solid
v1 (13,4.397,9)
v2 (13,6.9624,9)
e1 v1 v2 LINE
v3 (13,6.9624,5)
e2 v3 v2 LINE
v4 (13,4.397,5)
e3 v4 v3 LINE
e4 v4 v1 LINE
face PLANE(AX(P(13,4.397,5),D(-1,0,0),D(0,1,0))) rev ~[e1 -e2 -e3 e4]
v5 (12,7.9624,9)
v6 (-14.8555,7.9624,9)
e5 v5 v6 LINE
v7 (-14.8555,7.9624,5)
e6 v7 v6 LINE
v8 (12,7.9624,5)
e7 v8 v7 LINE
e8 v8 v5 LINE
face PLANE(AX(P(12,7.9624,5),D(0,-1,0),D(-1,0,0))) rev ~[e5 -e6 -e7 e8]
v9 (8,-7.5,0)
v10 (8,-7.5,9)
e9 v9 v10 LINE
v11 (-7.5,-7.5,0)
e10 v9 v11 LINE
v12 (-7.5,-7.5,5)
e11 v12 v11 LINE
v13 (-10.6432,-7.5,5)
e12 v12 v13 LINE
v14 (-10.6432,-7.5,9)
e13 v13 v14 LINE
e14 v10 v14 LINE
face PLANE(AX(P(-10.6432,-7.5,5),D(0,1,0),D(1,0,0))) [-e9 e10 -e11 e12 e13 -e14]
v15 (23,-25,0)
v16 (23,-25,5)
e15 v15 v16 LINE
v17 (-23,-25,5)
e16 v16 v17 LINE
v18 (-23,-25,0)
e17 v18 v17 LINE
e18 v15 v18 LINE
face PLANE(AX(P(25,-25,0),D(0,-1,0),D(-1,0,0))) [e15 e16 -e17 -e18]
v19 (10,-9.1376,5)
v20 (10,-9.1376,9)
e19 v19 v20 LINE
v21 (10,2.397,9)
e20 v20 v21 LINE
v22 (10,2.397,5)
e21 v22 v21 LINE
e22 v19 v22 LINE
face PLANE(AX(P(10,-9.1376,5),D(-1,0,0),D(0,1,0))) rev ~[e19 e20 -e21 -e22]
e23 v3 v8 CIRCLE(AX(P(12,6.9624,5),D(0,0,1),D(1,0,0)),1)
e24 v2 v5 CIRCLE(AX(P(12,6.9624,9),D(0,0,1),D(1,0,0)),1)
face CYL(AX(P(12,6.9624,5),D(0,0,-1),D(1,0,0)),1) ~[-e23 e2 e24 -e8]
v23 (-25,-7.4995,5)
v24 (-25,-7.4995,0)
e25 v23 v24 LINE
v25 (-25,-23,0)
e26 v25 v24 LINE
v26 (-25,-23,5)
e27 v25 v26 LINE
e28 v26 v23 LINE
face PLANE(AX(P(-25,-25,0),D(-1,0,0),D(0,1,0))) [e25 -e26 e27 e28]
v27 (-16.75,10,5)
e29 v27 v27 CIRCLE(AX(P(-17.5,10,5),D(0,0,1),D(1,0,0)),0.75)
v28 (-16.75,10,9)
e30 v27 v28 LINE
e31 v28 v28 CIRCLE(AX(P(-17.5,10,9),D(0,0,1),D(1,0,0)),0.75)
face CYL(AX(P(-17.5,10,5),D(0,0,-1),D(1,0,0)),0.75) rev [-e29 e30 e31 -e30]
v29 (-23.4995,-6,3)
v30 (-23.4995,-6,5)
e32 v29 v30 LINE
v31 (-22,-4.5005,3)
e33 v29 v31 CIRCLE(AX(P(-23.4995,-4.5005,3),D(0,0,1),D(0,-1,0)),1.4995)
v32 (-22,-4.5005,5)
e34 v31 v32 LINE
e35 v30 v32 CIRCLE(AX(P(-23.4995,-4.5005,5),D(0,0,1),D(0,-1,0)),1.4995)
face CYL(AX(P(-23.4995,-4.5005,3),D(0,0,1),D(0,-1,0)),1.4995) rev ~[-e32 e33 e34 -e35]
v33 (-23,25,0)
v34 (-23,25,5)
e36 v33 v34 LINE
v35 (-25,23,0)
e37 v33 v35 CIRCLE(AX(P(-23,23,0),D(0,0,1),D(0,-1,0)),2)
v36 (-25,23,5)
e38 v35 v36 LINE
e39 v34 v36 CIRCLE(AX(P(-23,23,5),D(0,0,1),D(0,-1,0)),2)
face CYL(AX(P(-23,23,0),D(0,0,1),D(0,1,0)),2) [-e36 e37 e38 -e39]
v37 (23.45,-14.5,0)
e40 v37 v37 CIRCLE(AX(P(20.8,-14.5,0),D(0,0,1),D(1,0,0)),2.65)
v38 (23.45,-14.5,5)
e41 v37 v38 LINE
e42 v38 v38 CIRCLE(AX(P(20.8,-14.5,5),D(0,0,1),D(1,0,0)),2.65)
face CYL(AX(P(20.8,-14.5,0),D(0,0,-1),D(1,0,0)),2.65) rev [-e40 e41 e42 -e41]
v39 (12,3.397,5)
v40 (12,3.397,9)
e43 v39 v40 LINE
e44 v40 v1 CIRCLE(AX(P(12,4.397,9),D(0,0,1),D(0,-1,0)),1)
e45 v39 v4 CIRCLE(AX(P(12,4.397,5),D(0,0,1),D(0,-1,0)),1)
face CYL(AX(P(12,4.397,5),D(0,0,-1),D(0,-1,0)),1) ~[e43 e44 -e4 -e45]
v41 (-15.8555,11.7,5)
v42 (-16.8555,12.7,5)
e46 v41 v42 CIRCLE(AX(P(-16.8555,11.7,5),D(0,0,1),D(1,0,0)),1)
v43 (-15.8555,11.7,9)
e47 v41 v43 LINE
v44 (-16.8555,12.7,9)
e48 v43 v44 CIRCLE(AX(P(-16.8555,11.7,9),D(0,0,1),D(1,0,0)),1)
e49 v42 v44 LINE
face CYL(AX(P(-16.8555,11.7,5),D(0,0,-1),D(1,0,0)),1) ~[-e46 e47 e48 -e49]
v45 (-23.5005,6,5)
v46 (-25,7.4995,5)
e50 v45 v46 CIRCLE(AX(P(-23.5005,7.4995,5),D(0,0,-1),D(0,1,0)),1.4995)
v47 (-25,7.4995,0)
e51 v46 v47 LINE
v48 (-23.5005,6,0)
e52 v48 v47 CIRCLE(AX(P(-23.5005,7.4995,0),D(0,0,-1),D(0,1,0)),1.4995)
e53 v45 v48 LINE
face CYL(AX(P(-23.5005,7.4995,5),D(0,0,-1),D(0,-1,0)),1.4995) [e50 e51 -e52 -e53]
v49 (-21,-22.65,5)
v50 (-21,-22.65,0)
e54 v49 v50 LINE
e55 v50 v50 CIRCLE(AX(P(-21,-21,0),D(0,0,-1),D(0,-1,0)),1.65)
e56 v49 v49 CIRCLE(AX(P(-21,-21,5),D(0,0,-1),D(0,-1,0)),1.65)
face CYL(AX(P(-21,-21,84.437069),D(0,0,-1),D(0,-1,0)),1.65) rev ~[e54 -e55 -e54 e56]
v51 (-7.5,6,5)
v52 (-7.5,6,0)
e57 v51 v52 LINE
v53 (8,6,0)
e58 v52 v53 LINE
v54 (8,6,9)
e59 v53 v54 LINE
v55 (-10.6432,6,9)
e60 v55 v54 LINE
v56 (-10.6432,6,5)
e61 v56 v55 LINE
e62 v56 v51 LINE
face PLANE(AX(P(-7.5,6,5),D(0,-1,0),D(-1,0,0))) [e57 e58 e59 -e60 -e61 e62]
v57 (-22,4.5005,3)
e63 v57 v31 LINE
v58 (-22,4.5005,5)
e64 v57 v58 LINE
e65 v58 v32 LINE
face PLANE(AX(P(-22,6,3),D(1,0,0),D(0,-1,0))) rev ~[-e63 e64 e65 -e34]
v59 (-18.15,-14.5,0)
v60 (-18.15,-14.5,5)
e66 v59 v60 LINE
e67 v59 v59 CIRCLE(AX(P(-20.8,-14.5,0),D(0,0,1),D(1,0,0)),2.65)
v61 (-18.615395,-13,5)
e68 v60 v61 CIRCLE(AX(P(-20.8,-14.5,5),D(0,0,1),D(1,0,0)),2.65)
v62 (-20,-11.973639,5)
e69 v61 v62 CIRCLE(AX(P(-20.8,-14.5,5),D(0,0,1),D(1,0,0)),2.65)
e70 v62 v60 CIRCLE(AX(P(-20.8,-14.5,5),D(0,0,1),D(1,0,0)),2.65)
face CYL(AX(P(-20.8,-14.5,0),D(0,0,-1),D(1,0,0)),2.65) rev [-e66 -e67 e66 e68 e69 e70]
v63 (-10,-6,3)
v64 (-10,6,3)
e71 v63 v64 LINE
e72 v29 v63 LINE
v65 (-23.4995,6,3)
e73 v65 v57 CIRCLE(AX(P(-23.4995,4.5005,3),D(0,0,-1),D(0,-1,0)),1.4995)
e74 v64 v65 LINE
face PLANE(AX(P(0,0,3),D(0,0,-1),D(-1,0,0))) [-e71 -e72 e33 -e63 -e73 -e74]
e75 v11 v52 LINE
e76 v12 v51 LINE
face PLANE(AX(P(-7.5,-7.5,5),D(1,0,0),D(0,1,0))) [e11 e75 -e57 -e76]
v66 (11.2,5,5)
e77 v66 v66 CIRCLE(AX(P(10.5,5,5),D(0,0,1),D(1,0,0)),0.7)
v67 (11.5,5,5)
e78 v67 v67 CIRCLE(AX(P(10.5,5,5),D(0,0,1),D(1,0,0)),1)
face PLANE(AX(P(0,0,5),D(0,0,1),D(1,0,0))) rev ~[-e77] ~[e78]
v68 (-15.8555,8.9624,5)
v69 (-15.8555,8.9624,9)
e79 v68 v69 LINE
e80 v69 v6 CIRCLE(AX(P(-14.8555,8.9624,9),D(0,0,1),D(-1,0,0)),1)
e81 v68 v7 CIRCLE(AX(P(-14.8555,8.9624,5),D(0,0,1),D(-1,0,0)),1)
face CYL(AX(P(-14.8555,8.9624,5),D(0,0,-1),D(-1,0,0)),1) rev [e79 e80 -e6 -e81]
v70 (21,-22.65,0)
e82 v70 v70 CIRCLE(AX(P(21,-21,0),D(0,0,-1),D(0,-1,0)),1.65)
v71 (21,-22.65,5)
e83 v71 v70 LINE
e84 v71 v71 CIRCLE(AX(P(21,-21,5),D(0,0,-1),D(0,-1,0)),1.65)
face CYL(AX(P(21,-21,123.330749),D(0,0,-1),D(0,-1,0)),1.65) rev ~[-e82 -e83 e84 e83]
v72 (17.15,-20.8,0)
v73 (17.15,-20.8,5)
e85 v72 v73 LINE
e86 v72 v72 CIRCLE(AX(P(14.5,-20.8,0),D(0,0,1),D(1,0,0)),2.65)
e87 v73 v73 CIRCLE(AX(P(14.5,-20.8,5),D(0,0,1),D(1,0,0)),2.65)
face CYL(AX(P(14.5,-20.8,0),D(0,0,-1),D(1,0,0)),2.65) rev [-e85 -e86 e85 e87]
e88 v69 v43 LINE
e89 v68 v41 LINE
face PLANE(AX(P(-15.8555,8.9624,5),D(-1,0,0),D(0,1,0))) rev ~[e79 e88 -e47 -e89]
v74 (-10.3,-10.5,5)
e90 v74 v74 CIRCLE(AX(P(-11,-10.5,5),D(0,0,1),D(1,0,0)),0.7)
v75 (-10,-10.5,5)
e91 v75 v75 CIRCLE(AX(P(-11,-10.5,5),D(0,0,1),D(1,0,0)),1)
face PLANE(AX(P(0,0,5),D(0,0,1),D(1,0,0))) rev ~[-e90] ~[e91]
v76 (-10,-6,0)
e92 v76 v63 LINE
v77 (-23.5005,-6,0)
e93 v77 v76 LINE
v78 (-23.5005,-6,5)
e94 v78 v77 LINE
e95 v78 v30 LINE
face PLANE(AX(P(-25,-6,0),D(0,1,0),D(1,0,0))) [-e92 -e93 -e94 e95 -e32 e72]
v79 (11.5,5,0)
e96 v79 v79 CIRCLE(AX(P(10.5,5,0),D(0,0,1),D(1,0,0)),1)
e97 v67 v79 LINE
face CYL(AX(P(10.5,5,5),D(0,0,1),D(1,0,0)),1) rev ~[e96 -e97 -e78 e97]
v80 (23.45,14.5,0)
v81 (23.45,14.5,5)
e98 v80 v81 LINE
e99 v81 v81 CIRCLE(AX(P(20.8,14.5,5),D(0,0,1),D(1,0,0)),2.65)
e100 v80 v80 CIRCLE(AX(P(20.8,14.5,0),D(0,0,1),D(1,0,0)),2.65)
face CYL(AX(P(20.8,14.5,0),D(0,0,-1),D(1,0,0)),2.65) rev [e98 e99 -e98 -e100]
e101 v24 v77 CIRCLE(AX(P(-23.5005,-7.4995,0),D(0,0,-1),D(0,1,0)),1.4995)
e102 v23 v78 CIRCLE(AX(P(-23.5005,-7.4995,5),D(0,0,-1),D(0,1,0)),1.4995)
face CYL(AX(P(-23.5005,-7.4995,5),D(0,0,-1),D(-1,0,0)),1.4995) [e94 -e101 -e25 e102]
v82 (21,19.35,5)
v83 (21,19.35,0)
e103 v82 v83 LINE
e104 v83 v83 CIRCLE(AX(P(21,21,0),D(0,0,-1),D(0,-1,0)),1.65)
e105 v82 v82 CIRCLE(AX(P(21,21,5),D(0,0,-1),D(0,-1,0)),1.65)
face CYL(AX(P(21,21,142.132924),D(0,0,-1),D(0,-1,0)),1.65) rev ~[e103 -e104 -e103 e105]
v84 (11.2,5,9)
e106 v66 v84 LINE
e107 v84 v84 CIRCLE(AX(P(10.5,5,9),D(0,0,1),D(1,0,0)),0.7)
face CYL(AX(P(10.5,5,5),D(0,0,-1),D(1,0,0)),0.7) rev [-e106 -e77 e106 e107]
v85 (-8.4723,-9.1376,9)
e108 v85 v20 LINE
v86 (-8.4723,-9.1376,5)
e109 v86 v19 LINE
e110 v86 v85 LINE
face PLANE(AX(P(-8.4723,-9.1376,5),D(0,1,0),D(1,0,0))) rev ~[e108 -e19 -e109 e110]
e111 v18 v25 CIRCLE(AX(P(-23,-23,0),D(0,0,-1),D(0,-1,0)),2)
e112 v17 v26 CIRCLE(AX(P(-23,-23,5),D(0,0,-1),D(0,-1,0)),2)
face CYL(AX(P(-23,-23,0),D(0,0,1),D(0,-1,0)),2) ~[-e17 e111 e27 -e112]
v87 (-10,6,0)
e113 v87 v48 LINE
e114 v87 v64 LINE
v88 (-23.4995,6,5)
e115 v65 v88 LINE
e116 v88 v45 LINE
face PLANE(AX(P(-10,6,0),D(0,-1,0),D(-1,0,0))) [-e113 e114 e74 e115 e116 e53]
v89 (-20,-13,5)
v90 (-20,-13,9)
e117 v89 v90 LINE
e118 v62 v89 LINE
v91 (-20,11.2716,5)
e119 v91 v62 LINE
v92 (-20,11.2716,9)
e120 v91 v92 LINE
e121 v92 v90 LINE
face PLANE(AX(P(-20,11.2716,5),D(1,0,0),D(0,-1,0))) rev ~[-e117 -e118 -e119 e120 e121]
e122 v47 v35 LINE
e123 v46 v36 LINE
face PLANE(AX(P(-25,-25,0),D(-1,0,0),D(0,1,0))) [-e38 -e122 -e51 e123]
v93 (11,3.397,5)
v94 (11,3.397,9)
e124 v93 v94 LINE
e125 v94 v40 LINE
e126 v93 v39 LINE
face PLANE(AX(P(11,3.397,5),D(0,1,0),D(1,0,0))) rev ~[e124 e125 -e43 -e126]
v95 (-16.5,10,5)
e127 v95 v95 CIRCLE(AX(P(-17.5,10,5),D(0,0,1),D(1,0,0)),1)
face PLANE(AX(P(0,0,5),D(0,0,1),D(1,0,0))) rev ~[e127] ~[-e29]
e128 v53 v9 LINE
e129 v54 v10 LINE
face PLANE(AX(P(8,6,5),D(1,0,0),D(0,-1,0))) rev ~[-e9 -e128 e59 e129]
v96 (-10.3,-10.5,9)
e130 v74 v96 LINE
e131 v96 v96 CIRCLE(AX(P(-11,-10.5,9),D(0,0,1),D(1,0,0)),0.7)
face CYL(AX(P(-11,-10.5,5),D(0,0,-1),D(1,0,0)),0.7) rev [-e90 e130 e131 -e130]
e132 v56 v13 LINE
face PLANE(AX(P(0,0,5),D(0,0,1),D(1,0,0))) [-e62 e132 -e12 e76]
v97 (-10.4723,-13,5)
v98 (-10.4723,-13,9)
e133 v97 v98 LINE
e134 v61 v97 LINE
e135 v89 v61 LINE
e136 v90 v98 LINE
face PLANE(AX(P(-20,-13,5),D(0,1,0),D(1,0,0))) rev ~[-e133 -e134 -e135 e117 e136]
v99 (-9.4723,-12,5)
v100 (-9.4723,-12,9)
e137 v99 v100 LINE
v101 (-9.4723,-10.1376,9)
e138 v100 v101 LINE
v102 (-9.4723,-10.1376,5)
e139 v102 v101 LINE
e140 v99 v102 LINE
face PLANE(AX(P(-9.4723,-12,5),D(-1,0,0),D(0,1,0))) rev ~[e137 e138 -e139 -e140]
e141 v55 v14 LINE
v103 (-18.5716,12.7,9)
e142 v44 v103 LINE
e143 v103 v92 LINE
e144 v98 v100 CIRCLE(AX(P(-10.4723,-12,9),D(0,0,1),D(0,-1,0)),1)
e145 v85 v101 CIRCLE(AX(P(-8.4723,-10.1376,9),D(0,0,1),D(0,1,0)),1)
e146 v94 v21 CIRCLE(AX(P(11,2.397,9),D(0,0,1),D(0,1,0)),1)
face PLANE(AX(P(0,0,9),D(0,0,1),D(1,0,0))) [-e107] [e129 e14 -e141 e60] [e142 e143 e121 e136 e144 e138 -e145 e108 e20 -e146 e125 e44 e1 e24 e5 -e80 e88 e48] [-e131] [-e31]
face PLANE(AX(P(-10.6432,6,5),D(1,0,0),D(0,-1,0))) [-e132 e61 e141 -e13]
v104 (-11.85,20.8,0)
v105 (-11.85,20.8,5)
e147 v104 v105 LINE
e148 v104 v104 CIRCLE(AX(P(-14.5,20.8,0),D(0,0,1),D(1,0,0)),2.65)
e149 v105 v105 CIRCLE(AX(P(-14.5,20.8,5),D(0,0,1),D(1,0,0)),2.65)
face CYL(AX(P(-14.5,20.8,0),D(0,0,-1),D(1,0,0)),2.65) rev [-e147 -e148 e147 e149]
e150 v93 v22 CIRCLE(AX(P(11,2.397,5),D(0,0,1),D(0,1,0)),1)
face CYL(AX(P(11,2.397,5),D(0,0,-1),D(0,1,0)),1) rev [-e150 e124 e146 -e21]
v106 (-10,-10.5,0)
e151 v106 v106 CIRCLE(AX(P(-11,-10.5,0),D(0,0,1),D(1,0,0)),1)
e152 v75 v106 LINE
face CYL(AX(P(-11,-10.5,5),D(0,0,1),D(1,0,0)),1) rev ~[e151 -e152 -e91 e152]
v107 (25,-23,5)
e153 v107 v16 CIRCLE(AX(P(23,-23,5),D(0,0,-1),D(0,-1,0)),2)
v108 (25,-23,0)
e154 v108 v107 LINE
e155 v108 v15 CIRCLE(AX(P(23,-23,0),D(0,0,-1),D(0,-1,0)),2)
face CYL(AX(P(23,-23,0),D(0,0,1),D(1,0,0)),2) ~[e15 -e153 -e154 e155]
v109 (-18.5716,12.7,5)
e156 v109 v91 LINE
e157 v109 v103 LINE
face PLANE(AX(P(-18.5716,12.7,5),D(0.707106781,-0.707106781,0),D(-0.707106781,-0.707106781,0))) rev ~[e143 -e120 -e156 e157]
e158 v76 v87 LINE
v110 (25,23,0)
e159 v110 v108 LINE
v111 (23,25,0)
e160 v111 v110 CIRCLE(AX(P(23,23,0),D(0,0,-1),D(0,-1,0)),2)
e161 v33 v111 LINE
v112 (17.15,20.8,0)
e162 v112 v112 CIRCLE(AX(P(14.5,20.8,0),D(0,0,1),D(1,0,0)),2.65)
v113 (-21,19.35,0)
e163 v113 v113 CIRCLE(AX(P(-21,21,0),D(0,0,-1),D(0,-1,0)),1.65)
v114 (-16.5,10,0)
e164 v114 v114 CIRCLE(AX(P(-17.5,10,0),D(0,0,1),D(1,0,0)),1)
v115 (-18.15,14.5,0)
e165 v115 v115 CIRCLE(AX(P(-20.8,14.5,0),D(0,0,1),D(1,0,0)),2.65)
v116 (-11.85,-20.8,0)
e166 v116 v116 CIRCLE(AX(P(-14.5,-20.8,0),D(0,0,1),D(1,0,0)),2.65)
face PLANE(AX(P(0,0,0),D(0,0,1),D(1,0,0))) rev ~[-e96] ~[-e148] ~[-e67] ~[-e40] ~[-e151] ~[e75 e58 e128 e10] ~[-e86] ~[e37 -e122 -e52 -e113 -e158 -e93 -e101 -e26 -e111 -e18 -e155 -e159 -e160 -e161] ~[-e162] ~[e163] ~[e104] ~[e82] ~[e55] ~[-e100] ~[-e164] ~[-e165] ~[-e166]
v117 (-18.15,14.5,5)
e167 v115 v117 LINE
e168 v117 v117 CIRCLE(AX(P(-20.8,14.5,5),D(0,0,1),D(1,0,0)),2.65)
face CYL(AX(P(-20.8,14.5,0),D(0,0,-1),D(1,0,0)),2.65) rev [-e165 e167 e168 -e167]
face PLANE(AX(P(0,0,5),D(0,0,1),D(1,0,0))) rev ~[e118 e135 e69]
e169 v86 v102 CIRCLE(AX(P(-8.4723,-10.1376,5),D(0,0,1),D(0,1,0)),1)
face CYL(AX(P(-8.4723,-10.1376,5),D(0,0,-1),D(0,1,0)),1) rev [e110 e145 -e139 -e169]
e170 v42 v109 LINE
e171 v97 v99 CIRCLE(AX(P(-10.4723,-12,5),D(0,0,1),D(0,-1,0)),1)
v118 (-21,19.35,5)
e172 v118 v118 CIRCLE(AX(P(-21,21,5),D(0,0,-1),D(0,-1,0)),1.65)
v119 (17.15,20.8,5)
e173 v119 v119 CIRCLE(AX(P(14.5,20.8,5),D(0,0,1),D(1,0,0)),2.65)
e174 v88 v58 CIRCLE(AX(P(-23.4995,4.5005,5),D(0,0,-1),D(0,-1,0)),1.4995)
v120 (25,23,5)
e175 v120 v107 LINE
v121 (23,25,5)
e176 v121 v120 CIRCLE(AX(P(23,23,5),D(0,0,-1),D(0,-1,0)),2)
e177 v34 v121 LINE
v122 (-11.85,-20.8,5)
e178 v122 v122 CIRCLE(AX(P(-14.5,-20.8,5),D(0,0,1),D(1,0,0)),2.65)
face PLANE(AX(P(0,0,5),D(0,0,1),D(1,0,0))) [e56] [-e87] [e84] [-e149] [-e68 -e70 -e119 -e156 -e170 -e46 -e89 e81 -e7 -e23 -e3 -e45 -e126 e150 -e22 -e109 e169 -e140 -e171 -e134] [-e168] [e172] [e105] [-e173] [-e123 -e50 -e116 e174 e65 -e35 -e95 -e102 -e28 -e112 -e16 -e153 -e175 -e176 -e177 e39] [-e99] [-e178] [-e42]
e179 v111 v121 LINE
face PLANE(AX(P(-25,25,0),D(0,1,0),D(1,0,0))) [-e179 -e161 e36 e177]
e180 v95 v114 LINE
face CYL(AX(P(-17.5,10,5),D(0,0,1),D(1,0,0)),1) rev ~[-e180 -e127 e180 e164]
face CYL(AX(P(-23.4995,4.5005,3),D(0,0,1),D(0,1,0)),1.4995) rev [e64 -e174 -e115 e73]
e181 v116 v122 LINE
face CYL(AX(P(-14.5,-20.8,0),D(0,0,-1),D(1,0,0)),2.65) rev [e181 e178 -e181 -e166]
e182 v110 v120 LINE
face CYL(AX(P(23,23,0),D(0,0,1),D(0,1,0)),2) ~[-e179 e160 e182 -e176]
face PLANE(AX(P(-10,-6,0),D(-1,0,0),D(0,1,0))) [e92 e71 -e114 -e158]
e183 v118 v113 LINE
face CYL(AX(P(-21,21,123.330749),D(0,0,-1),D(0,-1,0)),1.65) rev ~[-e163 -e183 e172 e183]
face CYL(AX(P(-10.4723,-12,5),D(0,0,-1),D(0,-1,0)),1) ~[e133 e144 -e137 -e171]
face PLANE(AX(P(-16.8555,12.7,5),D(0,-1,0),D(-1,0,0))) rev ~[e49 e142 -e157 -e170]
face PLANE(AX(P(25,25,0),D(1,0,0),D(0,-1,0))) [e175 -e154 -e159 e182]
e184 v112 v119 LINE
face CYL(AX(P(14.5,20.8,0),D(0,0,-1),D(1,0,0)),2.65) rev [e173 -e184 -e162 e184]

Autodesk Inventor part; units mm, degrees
ref_plane "YZ Plane" through (0, 0, 0) normal (1, 0, 0) x (0, 1, 0)
ref_plane "XZ Plane" through (0, 0, 0) normal (0, 1, 0) x (-1, 0, 0)
sketch "Sketch1" plane through (0, 0, 0) normal (0, 0, 1) x (1, 0, 0)
  line L0 (-25, 25) -> (25, 25)
  line L1 (25, 25) -> (25, -25)
  line L2 (25, -25) -> (-25, -25)
  line L3 (-25, -25) -> (-25, 25)
  line L4 (-25, 25) -> (25, -25) construction
  line L5 (25, 25) -> (-25, -25) construction
  circle A0 centre (0, 0) radius 2.5
  circle A1 centre (-20.8, -14.5) radius 2.65
  circle A2 centre (-14.5, -20.8) radius 2.65
  circle A3 centre (-20.8, 14.5) radius 2.65
  circle A4 centre (20.8, -14.5) radius 2.65
  circle A5 centre (20.8, 14.5) radius 2.65
  circle A6 centre (-14.5, 20.8) radius 2.65
  circle A7 centre (14.5, -20.8) radius 2.65
  circle A8 centre (14.5, 20.8) radius 2.65
  dimension "d0" = 50
  dimension "d1" = 50
  dimension "d2" = 5
  dimension "d5" = 5.3
  dimension "d6" = 4.2
  dimension "d8" = 10.5
  dimension "d11" = 29
  dimension "d14" = 41.6
extrude "Extrusion1" add sketch "Sketch1" along normal blind 5
fillet "Fillet1" radius 2 4 edges at (-25, 25, 2.5) (25, 25, 2.5) (-25, -25, 2.5) (25, -25, 2.5)
sketch "Sketch2" plane through (0, 0, 5) normal (0, 0, 1) x (1, 0, 0)
  arc A0 (23, -25) -> (25, -23) centre (23, -23) ccw projected
  line L0 (25, -23) -> (25, 23) projected
  arc A1 (25, 23) -> (23, 25) centre (23, 23) ccw projected
  line L1 (23, 25) -> (-23, 25) projected
  arc A2 (-23, 25) -> (-25, 23) centre (-23, 23) ccw projected
  line L2 (-25, 23) -> (-25, -23) projected
  arc A3 (-25, -23) -> (-23, -25) centre (-23, -23) ccw projected
  line L3 (-23, -25) -> (23, -25) projected
  circle A4 centre (14.5, 20.8) radius 2.65 projected
  circle A5 centre (-14.5, 20.8) radius 2.65 projected
  circle A6 centre (14.5, -20.8) radius 2.65 projected
  circle A7 centre (20.8, 14.5) radius 2.65 projected
  circle A8 centre (20.8, -14.5) radius 2.65 projected
  circle A9 centre (-20.8, 14.5) radius 2.65 projected
  circle A10 centre (-14.5, -20.8) radius 2.65 projected
  circle A11 centre (-20.8, -14.5) radius 2.65 projected
  circle A12 centre (0, 0) radius 2.5 projected
  line L4 (21, -21) -> (-21, -21)
  line L5 (-21, -21) -> (-21, 21)
  line L6 (-21, 21) -> (21, 21)
  line L7 (21, 21) -> (21, -21)
  line L8 (21, -21) -> (-21, 21) construction
  line L9 (-21, -21) -> (21, 21) construction
  circle A13 centre (-28.6, 21.06) radius 1.55 projected
  dimension "d18" = 42
  dimension "d19" = 42
hole "Hole1" at (-21, 21, 5) at (21, 21, 5) at (21, -21, 5) at (-21, -21, 5) direction (0, 0, -1) diameter 3.3 end through all both
sketch "Sketch4" plane through (0, 0, 0) normal (0, 0, -1) x (-1, 0, 0)
  line L0 (15, 15) -> (15, -15) construction
  line L1 (-15, 15) -> (15, 15) construction
  line L2 (15, -15) -> (-15, -15) construction
  line L3 (-15, -15) -> (-15, 15) construction
  circle A0 centre (-21, -21) radius 1.65 construction
  circle A1 centre (21, 21) radius 1.65 construction
  circle A2 centre (-21, 21) radius 1.65 construction
  circle A3 centre (21, -21) radius 1.65 construction
  circle A4 centre (-14.5, 20.8) radius 2.65 construction
  circle A5 centre (14.5, 20.8) radius 2.65 construction
  circle A6 centre (-14.5, -20.8) radius 2.65 construction
  circle A7 centre (-20.8, 14.5) radius 2.65 construction
  circle A8 centre (-20.8, -14.5) radius 2.65 construction
  circle A9 centre (20.8, 14.5) radius 2.65 construction
  circle A10 centre (14.5, -20.8) radius 2.65 construction
  circle A11 centre (20.8, -14.5) radius 2.65 construction
  circle A12 centre (0, 0) radius 2.5 construction
  arc A13 (-25, -23) -> (-23, -25) centre (-23, -23) ccw construction
  line L4 (-23, -25) -> (23, -25) construction
  arc A14 (23, -25) -> (25, -23) centre (23, -23) ccw construction
  line L5 (25, -23) -> (25, 23) construction
  arc A15 (25, 23) -> (23, 25) centre (23, 23) ccw construction
  line L6 (23, 25) -> (-23, 25) construction
  arc A16 (-23, 25) -> (-25, 23) centre (-23, 23) ccw construction
  line L7 (-25, 23) -> (-25, -23) construction
  line L8 (-25, -23) -> (-25, 23) construction
  line L9 (-25, 0) -> (25, 0) construction
  line L10 (25, 23) -> (25, -23) construction
  line L11 (10, 6) -> (15, 6) construction
  line L12 (15, 6) -> (15, -6) construction
  line L13 (15, -6) -> (10, -6) construction
  line L14 (10, -6) -> (10, 6) construction
  line L15 (10, 6) -> (25, 6)
  line L16 (25, 6) -> (25, -6)
  line L17 (25, -6) -> (10, -6)
  line L18 (10, -6) -> (10, 6)
  dimension "d34" = 5
  dimension "d35" = 12
extrude "Extrusion2" cut sketch "Sketch4" against normal blind 3
sketch "Sketch5" plane through (0, 0, 3) normal (0, 0, -1) x (-1, 0, 0)
  line L0 (10, 6) -> (25, 6) projected
  line L1 (10, -6) -> (10, 6) projected
  line L2 (25, -6) -> (10, -6) projected
  line L3 (25, 6) -> (25, -6) projected
  line L4 (25, 6) -> (25, -6) projected
  line L5 (25, -6) -> (10, -6) projected
  line L6 (25, 6) -> (22, 6)
  line L7 (22, 6) -> (22, -6)
  line L8 (22, -6) -> (25, -6)
  line L9 (25, -6) -> (25, 6)
  point P0 (0, 0)
  dimension "d38" = 3
extrude "Extrusion3" cut sketch "Sketch5" against normal up to surface (2 mm away) contours L0 L3 L2 L7
fillet "Fillet2" radius 1.5 4 edges at (-25, 6, 2.5) (-25, -6, 2.5) (-22, 6, 4) (-22, -6, 4)
sketch "Sketch6" plane through (0, 0, 5) normal (0, 0, 1) x (1, 0, 0)
  arc A0 (-15.8555, 11.7) -> (-16.8555, 12.7) centre (-16.8555, 11.7) ccw projected
  line L0 (-16.8555, 12.7) -> (-20, 12.7) projected
  line L1 (-20, 12.7) -> (-20, -13) projected
  line L2 (-20, -13) -> (-10.4723, -13) projected
  arc A1 (-10.4723, -13) -> (-9.4723, -12) centre (-10.4723, -12) ccw projected
  line L3 (-9.4723, -12) -> (-9.4723, -10.1376) projected
  arc A2 (-8.4723, -9.1376) -> (-9.4723, -10.1376) centre (-8.4723, -10.1376) ccw projected
  line L4 (-8.4723, -9.1376) -> (10, -9.1376) projected
  line L5 (10, -9.1376) -> (10, 2.397) projected
  arc A3 (11, 3.397) -> (10, 2.397) centre (11, 2.397) ccw projected
  line L6 (11, 3.397) -> (12, 3.397) projected
  arc A4 (12, 3.397) -> (13, 4.397) centre (12, 4.397) ccw projected
  line L7 (13, 4.397) -> (13, 6.9624) projected
  arc A5 (13, 6.9624) -> (12, 7.9624) centre (12, 6.9624) ccw projected
  line L8 (12, 7.9624) -> (-14.8555, 7.9624) projected
  arc A6 (-15.8555, 8.9624) -> (-14.8555, 7.9624) centre (-14.8555, 8.9624) ccw projected
  line L9 (-15.8555, 8.9624) -> (-15.8555, 11.7) projected
  line L10 (-7.5, 6) -> (8, 6) projected
  line L11 (8, 6) -> (8, -7.5) projected
  line L12 (8, -7.5) -> (-7.5, -7.5) projected
  line L13 (-7.5, -7.5) -> (-7.5, 6) projected
  circle A7 centre (-17.5, 10) radius 1 construction
  circle A8 centre (-11, -10.5) radius 1 construction
  circle A9 centre (10.5, 5) radius 1 construction
  line L14 (-18.5716, 12.7) -> (-20, 11.2716)
  line L15 (-18.5716, 12.7) -> (-16.5515, 12.7) construction
  line L16 (8, 6) -> (-10.6432, 6)
  line L17 (-10.6432, 6) -> (-10.6432, -7.5)
  line L18 (-10.6432, -7.5) -> (8, -7.5)
  line L19 (8, -7.5) -> (8, 6)
  circle A10 centre (-17.5, 10) radius 0.75
  circle A11 centre (10.5, 5) radius 0.7
  circle A12 centre (-11, -10.5) radius 0.7
  point P0 (0, 0)
  dimension "d42" = 135
  dimension "d47" = 1.5
  dimension "d48" = 1.4
  dimension "d49" = 1.4
ref_plane "Work Plane1" through (-29.7499, -21.1921, 9) normal (0, 0, -1) x (-0.4175, 0.9087, 0)
extrude "Extrusion4" add sketch "Sketch6" along normal up to surface (4 mm away) contours L9 A6 L8 A5 L7 A4 L6 A3 L5 L4 A2 L3 A1 L2 L1 L14 L0 A0
sketch "Sketch7" plane through (0, 0, 5) normal (0, 0, 1) x (1, 0, 0)
  point P0 (0, 0)
sketch "Sketch8" plane through (0, 0, 5) normal (0, 0, 1) x (1, 0, 0)
  arc A0 (-15.8555, 11.7) -> (-16.8555, 12.7) centre (-16.8555, 11.7) ccw projected
  line L0 (-16.8555, 12.7) -> (-20, 12.7) projected
  line L1 (-20, 12.7) -> (-20, -13) projected
  line L2 (-20, -13) -> (-10.4723, -13) projected
  arc A1 (-10.4723, -13) -> (-9.4723, -12) centre (-10.4723, -12) ccw projected
  line L3 (-9.4723, -12) -> (-9.4723, -10.1376) projected
  arc A2 (-8.4723, -9.1376) -> (-9.4723, -10.1376) centre (-8.4723, -10.1376) ccw projected
  line L4 (-8.4723, -9.1376) -> (10, -9.1376) projected
  line L5 (10, -9.1376) -> (10, 2.397) projected
  arc A3 (11, 3.397) -> (10, 2.397) centre (11, 2.397) ccw projected
  line L6 (11, 3.397) -> (12, 3.397) projected
  arc A4 (12, 3.397) -> (13, 4.397) centre (12, 4.397) ccw projected
  line L7 (13, 4.397) -> (13, 6.9624) projected
  arc A5 (13, 6.9624) -> (12, 7.9624) centre (12, 6.9624) ccw projected
  line L8 (12, 7.9624) -> (-14.8555, 7.9624) projected
  arc A6 (-15.8555, 8.9624) -> (-14.8555, 7.9624) centre (-14.8555, 8.9624) ccw projected
  line L9 (-15.8555, 8.9624) -> (-15.8555, 11.7) projected
  line L10 (-7.5, 6) -> (8, 6) projected
  line L11 (8, 6) -> (8, -7.5) projected
  line L12 (8, -7.5) -> (-7.5, -7.5) projected
  line L13 (-7.5, -7.5) -> (-7.5, 6) projected
  circle A7 centre (-17.5, 10) radius 1 projected
  circle A8 centre (-11, -10.5) radius 1 projected
  circle A9 centre (10.5, 5) radius 1 projected
  point P0 (0, 0)
extrude "Extrusion5" cut sketch "Sketch8" against normal blind 10 contours L10 L11 L12 L13 | A7 | A8 | A9
properties part number "30_IM_TopPlate_KES400A_holder_v3"
